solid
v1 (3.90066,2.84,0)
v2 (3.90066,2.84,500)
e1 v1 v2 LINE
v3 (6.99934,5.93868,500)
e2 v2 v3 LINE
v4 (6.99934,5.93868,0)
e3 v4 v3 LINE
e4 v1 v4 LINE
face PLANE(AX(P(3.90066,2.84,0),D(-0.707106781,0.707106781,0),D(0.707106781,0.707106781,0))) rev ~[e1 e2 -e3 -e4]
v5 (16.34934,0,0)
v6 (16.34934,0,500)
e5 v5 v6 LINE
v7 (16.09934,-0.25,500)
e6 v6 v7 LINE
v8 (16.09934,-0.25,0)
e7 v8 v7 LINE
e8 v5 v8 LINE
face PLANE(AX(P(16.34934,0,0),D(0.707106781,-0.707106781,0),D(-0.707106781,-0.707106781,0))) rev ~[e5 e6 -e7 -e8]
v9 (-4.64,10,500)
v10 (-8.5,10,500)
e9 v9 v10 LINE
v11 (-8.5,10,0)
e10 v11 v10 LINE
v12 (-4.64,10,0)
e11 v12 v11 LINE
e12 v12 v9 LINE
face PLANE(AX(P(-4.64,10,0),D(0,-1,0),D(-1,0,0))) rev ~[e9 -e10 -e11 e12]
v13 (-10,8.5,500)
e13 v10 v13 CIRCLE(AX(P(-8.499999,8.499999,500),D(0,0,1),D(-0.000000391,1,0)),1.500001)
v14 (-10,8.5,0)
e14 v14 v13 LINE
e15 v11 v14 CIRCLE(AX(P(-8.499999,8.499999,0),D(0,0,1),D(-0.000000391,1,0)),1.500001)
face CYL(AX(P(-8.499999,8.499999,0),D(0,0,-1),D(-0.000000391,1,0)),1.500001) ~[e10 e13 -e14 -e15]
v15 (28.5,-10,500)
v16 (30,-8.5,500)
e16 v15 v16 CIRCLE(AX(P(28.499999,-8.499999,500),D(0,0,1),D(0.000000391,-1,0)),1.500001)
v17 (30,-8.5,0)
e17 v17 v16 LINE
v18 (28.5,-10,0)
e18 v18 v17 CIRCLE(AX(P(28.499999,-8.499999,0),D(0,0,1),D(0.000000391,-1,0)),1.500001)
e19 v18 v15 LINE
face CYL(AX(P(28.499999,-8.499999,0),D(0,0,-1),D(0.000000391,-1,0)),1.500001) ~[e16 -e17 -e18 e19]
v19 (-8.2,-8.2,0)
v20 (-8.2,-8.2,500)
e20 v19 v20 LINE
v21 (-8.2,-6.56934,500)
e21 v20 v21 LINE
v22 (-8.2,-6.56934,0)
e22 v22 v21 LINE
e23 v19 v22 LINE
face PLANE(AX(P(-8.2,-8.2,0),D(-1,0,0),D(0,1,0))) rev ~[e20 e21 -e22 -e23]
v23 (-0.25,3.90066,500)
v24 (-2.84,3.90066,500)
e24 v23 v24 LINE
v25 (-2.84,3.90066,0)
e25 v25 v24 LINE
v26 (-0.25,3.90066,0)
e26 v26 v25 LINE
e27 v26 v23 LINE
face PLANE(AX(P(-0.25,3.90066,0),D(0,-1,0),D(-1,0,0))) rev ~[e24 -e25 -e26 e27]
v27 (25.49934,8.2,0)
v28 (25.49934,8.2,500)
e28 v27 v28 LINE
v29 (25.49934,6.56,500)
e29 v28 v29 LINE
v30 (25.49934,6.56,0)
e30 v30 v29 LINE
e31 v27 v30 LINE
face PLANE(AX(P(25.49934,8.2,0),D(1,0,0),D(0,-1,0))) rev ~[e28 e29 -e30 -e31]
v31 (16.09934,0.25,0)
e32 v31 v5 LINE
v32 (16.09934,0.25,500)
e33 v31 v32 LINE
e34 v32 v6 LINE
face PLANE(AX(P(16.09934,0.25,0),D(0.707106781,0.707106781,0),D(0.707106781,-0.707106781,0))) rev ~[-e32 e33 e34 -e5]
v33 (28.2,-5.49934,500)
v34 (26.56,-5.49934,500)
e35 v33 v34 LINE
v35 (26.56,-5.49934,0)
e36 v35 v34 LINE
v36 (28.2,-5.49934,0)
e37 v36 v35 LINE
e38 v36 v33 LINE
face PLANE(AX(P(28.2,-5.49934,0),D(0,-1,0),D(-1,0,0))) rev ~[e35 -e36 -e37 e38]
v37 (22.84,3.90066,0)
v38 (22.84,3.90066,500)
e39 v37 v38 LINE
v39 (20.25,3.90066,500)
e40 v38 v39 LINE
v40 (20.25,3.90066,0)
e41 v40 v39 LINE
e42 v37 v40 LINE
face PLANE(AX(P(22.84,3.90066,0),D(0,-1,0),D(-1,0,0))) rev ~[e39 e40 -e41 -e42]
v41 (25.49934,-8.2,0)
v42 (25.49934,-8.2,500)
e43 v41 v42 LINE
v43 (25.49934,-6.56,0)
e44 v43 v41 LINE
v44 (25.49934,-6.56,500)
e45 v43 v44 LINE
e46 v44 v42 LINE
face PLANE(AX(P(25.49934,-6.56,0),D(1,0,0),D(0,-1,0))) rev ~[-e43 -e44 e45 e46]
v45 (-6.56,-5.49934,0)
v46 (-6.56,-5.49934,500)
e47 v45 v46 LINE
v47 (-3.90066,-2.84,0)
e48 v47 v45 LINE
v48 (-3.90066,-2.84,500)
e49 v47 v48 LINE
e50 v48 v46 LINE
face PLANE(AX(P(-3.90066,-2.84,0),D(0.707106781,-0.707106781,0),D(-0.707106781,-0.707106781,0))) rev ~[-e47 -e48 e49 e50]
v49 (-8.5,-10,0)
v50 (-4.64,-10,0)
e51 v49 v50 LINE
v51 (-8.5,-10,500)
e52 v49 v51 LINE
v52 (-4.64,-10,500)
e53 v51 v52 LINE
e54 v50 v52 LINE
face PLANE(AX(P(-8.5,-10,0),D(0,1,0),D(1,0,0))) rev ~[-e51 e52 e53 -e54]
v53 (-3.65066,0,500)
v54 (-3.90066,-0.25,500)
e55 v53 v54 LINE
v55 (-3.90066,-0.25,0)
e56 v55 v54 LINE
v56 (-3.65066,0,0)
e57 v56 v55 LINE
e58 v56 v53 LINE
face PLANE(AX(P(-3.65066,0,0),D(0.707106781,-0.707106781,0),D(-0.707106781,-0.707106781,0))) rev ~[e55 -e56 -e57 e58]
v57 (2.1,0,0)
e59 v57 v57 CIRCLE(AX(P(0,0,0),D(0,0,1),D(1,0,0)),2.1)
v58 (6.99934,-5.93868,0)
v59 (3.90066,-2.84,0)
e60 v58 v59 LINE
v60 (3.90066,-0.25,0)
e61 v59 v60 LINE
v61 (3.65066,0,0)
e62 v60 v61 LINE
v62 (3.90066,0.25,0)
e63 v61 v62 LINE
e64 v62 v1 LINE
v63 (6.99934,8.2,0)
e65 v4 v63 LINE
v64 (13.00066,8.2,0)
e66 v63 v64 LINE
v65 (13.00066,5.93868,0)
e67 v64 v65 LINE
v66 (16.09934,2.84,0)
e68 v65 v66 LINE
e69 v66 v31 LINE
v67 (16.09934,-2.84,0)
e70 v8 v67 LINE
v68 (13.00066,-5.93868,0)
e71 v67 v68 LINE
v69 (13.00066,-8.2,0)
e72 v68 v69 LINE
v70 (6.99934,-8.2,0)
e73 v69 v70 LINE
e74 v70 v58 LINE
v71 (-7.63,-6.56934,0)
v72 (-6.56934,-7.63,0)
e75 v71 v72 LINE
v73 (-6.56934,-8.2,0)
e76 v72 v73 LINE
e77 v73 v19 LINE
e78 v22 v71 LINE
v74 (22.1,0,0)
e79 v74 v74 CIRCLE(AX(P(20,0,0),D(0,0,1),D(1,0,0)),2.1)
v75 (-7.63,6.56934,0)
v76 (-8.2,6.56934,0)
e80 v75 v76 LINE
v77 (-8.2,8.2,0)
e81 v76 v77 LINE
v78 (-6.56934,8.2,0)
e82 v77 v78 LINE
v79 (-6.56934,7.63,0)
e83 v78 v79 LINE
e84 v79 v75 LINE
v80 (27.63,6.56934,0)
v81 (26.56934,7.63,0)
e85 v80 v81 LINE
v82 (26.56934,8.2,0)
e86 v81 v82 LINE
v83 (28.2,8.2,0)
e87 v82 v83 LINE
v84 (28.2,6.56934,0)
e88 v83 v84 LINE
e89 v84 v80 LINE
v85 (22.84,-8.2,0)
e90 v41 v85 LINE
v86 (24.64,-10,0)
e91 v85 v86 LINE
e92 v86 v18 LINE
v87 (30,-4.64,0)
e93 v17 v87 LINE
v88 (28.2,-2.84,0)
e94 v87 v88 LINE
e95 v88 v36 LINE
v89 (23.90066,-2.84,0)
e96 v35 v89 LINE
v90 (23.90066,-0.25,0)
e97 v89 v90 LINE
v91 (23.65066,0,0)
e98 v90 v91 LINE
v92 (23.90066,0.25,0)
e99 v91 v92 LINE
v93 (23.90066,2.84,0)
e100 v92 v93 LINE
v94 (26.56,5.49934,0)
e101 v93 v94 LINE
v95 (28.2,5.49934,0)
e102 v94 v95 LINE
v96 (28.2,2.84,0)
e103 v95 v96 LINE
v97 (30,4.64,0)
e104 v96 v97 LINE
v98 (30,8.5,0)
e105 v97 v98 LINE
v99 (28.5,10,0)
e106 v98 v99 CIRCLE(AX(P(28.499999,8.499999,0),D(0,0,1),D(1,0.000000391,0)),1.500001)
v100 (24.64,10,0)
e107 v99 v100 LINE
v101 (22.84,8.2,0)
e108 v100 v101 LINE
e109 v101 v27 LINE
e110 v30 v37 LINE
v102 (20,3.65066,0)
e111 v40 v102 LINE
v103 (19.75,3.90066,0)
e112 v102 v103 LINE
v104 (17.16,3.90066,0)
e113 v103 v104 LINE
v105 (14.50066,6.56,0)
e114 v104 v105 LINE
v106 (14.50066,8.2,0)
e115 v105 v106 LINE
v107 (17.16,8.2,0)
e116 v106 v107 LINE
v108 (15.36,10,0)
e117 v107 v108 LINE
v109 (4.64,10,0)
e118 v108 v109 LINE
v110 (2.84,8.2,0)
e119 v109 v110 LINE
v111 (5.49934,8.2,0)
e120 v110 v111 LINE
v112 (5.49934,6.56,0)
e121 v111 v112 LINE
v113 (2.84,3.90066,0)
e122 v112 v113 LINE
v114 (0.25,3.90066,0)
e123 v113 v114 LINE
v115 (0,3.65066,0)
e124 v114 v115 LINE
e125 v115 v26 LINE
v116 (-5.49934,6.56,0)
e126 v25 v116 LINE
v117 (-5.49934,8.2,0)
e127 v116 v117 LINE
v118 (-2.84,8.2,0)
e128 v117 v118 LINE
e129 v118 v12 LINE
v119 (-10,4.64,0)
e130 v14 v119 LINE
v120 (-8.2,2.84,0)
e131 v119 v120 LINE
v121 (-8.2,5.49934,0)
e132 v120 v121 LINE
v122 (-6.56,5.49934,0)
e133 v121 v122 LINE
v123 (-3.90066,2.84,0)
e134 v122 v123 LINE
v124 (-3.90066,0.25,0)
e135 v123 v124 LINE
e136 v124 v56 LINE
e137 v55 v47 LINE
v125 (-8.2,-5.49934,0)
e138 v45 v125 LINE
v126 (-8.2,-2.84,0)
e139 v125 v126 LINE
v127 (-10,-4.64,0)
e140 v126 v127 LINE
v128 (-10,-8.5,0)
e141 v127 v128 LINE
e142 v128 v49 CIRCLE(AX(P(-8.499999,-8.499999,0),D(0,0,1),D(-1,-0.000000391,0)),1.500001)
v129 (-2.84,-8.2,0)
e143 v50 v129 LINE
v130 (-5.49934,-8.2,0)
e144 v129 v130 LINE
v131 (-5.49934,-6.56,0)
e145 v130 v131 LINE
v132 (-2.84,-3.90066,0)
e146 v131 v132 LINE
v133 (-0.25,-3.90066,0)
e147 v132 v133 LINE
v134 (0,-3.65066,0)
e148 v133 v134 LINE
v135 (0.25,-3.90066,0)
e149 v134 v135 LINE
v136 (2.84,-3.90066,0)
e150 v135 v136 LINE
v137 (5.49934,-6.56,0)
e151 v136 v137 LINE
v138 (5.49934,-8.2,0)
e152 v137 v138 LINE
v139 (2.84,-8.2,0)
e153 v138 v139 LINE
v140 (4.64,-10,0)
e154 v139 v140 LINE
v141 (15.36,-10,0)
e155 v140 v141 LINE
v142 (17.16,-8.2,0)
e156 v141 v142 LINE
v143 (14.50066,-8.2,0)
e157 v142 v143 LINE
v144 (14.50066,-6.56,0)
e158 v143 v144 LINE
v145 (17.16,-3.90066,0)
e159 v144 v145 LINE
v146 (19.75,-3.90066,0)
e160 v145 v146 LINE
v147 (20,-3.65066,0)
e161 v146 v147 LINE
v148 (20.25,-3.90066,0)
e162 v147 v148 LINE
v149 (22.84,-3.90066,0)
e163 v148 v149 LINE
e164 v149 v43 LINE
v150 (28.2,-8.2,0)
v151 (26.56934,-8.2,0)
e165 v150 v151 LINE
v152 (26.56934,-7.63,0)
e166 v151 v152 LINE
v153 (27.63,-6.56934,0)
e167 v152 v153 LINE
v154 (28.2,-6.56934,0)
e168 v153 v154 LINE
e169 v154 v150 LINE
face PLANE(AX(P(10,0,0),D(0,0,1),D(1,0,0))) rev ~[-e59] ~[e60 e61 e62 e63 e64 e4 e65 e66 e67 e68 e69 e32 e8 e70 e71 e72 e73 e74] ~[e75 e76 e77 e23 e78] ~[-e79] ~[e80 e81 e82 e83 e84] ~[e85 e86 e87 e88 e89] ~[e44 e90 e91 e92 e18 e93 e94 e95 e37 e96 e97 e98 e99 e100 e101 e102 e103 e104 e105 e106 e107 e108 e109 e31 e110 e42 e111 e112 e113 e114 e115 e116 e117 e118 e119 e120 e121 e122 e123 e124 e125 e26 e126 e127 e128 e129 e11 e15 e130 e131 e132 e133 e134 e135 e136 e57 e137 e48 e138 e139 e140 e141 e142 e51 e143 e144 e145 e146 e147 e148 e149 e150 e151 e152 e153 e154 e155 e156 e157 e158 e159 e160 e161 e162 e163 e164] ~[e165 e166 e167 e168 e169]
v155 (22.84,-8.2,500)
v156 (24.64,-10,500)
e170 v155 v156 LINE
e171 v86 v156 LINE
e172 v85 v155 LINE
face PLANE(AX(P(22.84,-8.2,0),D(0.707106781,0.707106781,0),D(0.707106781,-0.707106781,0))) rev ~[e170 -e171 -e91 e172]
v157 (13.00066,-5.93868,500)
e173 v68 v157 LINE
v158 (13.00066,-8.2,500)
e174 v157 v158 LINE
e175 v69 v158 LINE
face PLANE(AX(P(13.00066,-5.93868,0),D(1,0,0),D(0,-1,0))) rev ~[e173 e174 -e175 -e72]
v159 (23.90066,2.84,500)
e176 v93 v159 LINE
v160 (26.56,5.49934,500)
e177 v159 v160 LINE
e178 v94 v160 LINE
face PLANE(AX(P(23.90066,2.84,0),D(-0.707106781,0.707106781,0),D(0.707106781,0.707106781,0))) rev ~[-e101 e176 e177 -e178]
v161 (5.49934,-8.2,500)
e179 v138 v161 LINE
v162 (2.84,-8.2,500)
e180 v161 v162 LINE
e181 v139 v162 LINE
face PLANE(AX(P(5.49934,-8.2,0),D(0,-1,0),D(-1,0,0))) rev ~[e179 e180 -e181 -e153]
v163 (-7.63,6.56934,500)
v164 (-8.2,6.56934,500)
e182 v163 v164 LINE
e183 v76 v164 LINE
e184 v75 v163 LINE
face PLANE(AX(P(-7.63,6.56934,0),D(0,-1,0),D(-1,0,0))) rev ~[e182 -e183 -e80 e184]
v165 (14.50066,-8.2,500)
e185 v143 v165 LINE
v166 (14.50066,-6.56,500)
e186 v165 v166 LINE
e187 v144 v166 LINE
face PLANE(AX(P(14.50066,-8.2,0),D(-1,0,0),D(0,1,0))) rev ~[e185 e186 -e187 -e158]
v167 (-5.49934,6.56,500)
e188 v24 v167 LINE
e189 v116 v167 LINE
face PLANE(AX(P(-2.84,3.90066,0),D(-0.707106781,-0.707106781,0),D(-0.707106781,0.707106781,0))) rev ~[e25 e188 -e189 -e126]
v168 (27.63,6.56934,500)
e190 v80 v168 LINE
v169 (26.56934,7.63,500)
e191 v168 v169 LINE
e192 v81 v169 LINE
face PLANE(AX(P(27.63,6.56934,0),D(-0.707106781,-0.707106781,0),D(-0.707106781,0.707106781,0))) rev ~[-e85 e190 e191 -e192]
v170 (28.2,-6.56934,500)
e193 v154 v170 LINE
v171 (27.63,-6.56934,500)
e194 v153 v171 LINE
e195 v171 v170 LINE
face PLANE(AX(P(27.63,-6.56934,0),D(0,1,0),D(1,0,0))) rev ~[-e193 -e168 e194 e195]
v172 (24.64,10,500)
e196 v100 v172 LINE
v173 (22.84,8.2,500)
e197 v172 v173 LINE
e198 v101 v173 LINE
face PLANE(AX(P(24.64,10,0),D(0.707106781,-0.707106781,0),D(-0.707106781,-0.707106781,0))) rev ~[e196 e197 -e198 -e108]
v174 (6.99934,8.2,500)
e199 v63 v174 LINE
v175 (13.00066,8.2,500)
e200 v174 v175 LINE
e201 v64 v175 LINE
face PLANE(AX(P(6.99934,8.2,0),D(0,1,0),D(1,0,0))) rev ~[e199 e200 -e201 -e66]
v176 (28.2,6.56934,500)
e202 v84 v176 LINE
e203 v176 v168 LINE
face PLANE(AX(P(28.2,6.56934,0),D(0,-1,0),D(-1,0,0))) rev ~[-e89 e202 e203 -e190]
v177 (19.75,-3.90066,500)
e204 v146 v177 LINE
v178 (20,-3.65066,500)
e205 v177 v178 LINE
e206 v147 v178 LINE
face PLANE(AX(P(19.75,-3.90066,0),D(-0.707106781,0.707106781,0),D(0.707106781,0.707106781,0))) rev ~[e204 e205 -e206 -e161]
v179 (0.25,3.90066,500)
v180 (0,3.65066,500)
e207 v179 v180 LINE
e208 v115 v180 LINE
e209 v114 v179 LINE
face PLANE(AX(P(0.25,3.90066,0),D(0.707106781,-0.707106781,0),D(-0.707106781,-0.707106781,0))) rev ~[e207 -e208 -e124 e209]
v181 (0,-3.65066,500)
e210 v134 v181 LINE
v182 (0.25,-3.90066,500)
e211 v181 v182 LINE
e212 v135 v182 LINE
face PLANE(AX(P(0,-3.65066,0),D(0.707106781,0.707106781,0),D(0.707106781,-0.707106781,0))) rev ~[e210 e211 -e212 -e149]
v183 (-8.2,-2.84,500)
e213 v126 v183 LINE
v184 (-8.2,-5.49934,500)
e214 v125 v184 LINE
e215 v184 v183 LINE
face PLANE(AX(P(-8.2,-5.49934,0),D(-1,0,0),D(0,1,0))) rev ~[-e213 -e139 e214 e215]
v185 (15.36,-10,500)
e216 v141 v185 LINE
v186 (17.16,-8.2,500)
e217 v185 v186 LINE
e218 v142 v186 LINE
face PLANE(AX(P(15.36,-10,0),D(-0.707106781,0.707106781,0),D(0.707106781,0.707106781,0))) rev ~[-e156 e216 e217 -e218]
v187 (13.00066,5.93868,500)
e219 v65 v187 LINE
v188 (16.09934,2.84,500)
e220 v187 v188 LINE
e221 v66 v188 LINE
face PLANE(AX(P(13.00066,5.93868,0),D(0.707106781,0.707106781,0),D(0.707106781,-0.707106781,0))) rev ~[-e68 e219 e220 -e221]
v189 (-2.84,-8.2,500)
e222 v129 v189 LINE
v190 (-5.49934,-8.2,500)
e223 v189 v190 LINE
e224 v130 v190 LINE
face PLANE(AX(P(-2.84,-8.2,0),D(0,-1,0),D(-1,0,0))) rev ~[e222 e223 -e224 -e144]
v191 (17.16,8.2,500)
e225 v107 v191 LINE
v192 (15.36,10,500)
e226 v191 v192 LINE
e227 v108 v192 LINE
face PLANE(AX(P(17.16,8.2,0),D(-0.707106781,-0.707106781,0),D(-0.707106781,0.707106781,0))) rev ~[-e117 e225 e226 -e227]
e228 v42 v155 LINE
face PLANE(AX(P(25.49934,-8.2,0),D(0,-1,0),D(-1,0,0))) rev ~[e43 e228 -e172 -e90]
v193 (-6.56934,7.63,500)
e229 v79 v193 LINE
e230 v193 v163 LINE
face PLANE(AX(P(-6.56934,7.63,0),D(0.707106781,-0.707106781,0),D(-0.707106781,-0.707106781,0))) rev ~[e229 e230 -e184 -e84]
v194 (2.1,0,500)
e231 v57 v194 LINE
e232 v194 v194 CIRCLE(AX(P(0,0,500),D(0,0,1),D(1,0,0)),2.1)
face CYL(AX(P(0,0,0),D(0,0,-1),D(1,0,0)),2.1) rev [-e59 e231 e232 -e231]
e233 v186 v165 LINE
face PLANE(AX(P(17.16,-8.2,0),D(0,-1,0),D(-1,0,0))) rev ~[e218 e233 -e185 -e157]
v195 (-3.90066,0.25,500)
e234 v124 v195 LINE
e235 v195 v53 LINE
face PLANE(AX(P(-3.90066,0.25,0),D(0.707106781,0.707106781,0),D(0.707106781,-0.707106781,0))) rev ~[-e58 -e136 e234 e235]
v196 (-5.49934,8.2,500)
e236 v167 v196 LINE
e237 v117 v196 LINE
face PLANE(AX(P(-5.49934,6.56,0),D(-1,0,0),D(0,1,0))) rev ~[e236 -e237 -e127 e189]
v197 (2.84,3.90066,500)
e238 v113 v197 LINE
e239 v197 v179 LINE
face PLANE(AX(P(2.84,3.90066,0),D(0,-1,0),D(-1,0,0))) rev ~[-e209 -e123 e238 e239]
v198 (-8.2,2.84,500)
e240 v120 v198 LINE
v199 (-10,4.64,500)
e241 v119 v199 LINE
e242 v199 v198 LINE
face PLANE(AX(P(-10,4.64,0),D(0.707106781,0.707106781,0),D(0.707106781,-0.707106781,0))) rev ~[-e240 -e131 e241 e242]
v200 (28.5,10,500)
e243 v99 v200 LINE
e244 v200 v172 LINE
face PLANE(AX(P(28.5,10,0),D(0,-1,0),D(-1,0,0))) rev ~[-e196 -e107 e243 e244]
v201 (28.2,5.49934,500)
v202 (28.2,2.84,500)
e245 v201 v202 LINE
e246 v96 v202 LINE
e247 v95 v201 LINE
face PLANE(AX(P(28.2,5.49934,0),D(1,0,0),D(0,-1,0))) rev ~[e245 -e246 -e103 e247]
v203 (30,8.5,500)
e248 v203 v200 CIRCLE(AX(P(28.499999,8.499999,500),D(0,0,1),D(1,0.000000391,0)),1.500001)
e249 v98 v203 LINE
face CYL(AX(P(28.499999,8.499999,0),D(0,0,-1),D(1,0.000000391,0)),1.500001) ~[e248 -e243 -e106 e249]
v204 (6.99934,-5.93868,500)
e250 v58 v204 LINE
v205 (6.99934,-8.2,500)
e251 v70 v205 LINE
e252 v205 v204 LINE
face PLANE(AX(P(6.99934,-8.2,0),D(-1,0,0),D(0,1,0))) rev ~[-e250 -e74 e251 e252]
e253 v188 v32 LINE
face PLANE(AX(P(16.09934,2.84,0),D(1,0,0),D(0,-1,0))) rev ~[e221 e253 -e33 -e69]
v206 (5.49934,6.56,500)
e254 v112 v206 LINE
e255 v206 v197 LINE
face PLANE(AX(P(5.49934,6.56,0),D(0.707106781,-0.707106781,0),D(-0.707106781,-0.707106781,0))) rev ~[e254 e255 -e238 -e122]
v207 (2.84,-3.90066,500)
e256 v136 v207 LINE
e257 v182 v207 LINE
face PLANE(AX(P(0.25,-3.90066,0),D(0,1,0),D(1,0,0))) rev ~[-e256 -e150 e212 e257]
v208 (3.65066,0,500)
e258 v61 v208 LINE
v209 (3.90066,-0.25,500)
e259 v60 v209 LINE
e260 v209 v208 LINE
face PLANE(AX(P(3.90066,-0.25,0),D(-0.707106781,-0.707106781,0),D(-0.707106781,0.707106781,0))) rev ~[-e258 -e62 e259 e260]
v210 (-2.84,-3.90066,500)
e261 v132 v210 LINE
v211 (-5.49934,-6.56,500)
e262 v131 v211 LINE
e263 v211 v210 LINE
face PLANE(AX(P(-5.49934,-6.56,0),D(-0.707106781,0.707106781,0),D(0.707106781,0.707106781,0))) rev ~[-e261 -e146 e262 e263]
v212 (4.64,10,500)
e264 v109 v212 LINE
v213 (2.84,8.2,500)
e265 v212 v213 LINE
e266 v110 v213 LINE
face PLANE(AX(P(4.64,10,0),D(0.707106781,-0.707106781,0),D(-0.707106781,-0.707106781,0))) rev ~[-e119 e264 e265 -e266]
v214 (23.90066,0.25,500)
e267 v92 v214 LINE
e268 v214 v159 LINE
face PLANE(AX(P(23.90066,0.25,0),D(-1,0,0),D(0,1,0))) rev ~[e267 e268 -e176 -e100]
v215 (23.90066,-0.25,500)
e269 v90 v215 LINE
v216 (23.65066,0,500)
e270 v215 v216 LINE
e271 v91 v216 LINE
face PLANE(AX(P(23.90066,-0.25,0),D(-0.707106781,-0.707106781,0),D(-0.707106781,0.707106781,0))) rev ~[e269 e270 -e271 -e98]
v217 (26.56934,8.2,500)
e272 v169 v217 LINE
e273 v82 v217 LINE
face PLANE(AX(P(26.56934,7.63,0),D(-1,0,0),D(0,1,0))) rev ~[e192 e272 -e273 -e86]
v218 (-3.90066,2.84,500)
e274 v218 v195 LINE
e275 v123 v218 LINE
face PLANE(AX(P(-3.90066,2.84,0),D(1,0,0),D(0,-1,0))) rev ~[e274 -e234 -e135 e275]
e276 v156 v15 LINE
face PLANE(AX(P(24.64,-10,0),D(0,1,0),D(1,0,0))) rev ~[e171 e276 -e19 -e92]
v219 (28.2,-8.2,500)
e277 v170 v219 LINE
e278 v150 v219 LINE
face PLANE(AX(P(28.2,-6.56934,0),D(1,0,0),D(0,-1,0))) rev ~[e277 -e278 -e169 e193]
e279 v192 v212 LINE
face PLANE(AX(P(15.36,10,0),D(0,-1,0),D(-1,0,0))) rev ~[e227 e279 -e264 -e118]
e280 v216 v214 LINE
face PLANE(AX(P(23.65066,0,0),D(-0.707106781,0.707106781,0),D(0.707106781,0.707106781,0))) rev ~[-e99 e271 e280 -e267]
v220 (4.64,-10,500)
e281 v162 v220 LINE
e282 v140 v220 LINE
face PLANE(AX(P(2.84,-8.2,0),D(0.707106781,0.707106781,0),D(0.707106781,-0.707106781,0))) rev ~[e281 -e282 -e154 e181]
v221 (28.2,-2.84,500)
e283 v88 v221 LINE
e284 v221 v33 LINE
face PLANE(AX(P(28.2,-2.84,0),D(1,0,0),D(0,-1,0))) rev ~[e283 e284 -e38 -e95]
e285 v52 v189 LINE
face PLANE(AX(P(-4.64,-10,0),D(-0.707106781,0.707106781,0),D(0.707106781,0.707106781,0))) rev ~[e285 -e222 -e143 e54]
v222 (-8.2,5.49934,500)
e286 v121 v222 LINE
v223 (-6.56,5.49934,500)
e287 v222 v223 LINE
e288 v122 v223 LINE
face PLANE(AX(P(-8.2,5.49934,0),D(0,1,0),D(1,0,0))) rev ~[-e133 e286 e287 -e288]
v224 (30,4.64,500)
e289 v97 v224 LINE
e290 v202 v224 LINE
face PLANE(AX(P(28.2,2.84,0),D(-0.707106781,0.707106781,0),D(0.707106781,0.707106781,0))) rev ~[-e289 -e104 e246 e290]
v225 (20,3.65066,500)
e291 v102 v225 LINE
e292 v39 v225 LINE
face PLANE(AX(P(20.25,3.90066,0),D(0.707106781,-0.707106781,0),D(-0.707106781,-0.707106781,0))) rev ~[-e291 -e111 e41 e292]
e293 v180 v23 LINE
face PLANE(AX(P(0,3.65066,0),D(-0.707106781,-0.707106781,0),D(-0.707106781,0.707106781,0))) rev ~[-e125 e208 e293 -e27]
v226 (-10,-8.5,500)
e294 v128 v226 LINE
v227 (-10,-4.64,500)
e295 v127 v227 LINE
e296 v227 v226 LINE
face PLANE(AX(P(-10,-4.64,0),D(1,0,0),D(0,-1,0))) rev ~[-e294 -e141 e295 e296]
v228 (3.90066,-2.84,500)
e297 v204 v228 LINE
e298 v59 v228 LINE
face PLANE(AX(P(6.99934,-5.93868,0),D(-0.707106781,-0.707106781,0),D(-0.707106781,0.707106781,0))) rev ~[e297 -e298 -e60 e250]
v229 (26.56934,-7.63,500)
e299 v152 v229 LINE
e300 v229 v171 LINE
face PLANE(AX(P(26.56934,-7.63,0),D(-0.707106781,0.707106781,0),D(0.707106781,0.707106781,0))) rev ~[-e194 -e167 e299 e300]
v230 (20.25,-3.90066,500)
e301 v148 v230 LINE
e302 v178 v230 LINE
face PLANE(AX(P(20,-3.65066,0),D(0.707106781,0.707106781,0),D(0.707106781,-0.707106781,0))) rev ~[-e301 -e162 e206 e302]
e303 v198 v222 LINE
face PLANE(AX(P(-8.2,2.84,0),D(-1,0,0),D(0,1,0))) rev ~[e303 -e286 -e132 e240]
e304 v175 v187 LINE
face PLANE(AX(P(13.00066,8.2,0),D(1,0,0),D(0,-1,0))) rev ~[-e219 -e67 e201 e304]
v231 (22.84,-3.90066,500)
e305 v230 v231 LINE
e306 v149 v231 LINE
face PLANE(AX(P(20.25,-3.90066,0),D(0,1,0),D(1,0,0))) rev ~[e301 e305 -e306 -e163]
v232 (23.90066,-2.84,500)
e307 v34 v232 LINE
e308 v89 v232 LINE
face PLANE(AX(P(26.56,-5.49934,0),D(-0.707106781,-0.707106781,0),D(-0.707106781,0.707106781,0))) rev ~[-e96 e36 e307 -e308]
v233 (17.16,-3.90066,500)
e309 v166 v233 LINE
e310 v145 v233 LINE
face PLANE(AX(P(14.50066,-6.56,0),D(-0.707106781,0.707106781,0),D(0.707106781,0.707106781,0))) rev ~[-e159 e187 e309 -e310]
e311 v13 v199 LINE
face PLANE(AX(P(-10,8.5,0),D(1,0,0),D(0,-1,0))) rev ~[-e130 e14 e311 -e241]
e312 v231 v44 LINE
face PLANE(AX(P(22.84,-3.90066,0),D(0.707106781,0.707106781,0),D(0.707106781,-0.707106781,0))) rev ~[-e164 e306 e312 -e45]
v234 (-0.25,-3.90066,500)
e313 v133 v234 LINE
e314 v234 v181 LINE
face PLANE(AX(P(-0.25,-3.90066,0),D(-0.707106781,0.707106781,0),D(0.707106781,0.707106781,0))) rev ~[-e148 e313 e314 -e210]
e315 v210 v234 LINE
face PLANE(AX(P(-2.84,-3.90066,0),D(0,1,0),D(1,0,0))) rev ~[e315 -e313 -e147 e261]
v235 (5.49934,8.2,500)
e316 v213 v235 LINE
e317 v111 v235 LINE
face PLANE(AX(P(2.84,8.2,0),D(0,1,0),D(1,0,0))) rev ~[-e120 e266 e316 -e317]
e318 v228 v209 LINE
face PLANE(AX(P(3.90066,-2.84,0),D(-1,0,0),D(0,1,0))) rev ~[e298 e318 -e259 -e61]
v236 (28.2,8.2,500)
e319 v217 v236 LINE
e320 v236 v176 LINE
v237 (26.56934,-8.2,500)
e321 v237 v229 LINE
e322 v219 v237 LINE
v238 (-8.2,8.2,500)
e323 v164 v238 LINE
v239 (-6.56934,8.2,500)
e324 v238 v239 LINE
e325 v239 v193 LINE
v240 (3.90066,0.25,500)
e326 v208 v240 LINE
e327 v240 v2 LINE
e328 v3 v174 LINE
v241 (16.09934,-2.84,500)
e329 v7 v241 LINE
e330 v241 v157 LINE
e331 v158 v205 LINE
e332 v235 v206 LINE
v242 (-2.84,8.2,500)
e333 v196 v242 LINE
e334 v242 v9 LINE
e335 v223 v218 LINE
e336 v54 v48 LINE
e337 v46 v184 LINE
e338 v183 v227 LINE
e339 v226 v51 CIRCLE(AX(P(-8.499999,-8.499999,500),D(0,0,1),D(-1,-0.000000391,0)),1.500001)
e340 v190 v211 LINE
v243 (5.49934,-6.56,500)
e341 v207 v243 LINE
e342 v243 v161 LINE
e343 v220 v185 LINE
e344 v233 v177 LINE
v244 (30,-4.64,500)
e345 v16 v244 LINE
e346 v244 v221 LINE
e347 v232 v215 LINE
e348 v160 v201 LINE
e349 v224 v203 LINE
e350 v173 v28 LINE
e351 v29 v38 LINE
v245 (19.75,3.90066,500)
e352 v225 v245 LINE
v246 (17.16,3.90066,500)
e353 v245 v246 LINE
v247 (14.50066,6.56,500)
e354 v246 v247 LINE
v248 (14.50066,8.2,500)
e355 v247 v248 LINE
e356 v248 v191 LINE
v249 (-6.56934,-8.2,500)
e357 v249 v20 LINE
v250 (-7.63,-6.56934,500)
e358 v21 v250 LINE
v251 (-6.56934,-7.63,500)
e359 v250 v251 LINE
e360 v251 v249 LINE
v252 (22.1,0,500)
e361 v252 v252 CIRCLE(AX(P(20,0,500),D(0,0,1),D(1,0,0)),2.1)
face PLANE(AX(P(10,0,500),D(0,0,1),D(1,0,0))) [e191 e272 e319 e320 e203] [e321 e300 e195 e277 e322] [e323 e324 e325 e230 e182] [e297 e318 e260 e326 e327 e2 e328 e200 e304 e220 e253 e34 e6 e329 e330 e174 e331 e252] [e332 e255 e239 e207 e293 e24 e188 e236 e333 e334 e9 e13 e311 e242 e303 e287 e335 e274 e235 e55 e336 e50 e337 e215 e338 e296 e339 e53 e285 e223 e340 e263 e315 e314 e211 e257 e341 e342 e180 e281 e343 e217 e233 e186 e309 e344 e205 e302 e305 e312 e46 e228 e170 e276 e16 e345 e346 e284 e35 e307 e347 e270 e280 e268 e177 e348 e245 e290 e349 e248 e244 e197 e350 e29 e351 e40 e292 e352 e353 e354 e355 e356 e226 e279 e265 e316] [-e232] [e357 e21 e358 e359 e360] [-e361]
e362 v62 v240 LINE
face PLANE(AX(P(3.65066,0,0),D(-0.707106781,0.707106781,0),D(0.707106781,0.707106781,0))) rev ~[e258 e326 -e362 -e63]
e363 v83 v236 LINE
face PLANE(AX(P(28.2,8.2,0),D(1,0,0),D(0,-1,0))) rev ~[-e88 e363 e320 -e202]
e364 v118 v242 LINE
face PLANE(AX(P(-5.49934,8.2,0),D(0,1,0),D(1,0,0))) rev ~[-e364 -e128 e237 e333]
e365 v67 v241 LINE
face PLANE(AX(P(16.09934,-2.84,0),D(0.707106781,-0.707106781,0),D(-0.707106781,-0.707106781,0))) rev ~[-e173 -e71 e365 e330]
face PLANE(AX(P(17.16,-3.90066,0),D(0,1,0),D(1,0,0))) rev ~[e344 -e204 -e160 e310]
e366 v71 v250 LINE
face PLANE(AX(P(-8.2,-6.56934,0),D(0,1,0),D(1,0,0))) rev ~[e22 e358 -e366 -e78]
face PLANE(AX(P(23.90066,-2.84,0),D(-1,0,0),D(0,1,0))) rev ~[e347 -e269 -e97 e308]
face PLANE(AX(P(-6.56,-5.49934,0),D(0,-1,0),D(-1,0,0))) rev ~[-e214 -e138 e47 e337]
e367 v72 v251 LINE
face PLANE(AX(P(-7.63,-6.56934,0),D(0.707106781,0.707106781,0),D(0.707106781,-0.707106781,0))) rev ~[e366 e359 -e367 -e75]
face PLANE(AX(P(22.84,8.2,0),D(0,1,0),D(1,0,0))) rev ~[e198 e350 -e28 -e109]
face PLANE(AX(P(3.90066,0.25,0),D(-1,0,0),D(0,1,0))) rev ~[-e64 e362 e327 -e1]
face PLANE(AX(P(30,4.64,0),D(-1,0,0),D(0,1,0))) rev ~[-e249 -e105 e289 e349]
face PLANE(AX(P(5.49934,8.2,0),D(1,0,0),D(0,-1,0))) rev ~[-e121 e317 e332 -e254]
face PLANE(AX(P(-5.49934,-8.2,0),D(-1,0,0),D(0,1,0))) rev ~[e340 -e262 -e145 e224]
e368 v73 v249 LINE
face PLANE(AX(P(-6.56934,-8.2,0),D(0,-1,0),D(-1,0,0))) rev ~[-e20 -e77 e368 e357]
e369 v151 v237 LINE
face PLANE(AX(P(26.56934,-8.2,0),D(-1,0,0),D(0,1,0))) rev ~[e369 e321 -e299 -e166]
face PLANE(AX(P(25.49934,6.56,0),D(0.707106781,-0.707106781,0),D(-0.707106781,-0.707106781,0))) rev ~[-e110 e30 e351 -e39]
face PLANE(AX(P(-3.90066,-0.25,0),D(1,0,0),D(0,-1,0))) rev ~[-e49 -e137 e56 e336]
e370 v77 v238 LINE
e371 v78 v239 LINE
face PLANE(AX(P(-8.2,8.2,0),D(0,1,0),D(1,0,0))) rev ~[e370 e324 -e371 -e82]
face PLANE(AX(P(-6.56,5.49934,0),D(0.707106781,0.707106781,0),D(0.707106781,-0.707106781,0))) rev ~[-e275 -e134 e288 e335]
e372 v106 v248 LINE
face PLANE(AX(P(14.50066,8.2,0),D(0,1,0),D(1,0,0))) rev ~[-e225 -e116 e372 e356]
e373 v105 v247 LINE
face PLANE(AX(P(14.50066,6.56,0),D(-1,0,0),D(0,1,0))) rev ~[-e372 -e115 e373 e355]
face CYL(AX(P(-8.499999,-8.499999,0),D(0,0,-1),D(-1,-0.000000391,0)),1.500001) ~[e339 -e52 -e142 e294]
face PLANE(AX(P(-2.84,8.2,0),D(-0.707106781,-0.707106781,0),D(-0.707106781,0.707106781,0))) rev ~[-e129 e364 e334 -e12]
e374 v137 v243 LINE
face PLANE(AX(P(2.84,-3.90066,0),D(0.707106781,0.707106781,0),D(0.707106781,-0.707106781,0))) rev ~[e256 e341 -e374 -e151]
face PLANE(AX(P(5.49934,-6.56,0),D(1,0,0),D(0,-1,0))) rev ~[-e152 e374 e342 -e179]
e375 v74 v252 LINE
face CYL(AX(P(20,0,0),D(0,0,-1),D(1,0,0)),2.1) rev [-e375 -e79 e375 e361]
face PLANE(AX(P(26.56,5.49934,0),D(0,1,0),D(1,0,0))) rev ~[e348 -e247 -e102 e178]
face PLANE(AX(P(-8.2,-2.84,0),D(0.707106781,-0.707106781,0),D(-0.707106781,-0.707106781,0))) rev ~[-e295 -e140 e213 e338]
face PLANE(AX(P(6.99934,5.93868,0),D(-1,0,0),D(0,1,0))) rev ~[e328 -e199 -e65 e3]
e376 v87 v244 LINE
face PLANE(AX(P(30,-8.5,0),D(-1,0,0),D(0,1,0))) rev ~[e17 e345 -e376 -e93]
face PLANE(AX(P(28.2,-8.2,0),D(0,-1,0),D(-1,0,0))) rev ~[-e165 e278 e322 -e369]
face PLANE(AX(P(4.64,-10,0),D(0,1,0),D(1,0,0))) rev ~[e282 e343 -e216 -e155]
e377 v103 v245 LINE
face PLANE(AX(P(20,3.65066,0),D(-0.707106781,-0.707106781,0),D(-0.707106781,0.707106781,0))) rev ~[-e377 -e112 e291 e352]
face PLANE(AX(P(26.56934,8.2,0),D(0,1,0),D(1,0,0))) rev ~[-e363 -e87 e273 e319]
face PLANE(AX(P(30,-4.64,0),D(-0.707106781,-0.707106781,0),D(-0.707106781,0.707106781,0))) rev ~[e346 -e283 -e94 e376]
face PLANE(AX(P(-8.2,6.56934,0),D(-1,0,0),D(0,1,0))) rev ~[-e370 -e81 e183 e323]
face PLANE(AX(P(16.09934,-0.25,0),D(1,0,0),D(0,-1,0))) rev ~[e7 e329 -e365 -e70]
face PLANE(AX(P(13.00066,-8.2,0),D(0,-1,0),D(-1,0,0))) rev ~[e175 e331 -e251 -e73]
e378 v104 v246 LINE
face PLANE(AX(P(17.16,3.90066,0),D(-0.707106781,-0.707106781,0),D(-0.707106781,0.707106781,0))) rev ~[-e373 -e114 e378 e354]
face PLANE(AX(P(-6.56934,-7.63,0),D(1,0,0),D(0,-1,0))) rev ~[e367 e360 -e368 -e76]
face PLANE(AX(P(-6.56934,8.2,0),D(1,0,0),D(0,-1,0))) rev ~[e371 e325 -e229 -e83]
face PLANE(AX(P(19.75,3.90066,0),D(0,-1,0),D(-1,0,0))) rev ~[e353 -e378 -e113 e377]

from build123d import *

# Parameters (mm, degrees)
F0_R     = 2.1
F1_DEPTH = 500


with BuildPart() as f1:
    # F0 (on Top) → F1 (new body)
    with BuildSketch(Plane.XY):
        with BuildLine():
            Line((4.64, -10), (8.5, -10))
            Line((8.5, -10), (11.5, -10))
            Line((11.5, -10), (15.36, -10))
            Line((15.36, -10), (17.16, -8.2))
            Line((17.16, -8.2), (14.50066, -8.2))
            Line((14.50066, -8.2), (14.50066, -6.56))
            Line((14.50066, -6.56), (17.16, -3.90066))
            Line((17.16, -3.90066), (19.75, -3.90066))
            Line((19.75, -3.90066), (20, -3.65066))
            Line((20, -3.65066), (20.25, -3.90066))
            Line((20.25, -3.90066), (22.84, -3.90066))
            Line((22.84, -3.90066), (25.49934, -6.56))
            Line((25.49934, -6.56), (25.49934, -8.2))
            Line((25.49934, -8.2), (22.84, -8.2))
            Line((22.84, -8.2), (24.64, -10))
            Line((24.64, -10), (28.5, -10))
            ThreePointArc((28.5, -10), (29.56066, -9.56066), (30, -8.5))
            Line((30, -8.5), (30, -4.64))
            Line((30, -4.64), (28.2, -2.84))
            Line((28.2, -2.84), (28.2, -5.49934))
            Line((28.2, -5.49934), (26.56, -5.49934))
            Line((26.56, -5.49934), (23.90066, -2.84))
            Line((23.90066, -2.84), (23.90066, -0.25))
            Line((23.90066, -0.25), (23.65066, 0))
            Line((23.65066, 0), (23.90066, 0.25))
            Line((23.90066, 0.25), (23.90066, 2.84))
            Line((23.90066, 2.84), (26.56, 5.49934))
            Line((26.56, 5.49934), (28.2, 5.49934))
            Line((28.2, 5.49934), (28.2, 2.84))
            Line((28.2, 2.84), (30, 4.64))
            Line((30, 4.64), (30, 8.5))
            ThreePointArc((30, 8.5), (29.56066, 9.56066), (28.5, 10))
            Line((28.5, 10), (24.64, 10))
            Line((24.64, 10), (22.84, 8.2))
            Line((22.84, 8.2), (25.49934, 8.2))
            Line((25.49934, 8.2), (25.49934, 6.56))
            Line((25.49934, 6.56), (22.84, 3.90066))
            Line((22.84, 3.90066), (20.25, 3.90066))
            Line((20.25, 3.90066), (20, 3.65066))
            Line((20, 3.65066), (19.75, 3.90066))
            Line((19.75, 3.90066), (17.16, 3.90066))
            Line((17.16, 3.90066), (14.50066, 6.56))
            Line((14.50066, 6.56), (14.50066, 8.2))
            Line((14.50066, 8.2), (17.16, 8.2))
            Line((17.16, 8.2), (15.36, 10))
            Line((15.36, 10), (11.5, 10))
            Line((11.5, 10), (8.5, 10))
            Line((8.5, 10), (4.64, 10))
            Line((4.64, 10), (2.84, 8.2))
            Line((2.84, 8.2), (5.49934, 8.2))
            Line((5.49934, 8.2), (5.49934, 6.56))
            Line((5.49934, 6.56), (2.84, 3.90066))
            Line((2.84, 3.90066), (0.25, 3.90066))
            Line((0.25, 3.90066), (0, 3.65066))
            Line((0, 3.65066), (-0.25, 3.90066))
            Line((-0.25, 3.90066), (-2.84, 3.90066))
            Line((-2.84, 3.90066), (-5.49934, 6.56))
            Line((-5.49934, 6.56), (-5.49934, 8.2))
            Line((-5.49934, 8.2), (-2.84, 8.2))
            Line((-2.84, 8.2), (-4.64, 10))
            Line((-4.64, 10), (-8.5, 10))
            ThreePointArc((-8.5, 10), (-9.56066, 9.56066), (-10, 8.5))
            Line((-10, 8.5), (-10, 4.64))
            Line((-10, 4.64), (-8.2, 2.84))
            Line((-8.2, 2.84), (-8.2, 5.49934))
            Line((-8.2, 5.49934), (-6.56, 5.49934))
            Line((-6.56, 5.49934), (-3.90066, 2.84))
            Line((-3.90066, 2.84), (-3.90066, 0.25))
            Line((-3.90066, 0.25), (-3.65066, 0))
            Line((-3.65066, 0), (-3.90066, -0.25))
            Line((-3.90066, -0.25), (-3.90066, -2.84))
            Line((-3.90066, -2.84), (-6.56, -5.49934))
            Line((-6.56, -5.49934), (-8.2, -5.49934))
            Line((-8.2, -5.49934), (-8.2, -2.84))
            Line((-8.2, -2.84), (-10, -4.64))
            Line((-10, -4.64), (-10, -8.5))
            ThreePointArc((-10, -8.5), (-9.56066, -9.56066), (-8.5, -10))
            Line((-8.5, -10), (-4.64, -10))
            Line((-4.64, -10), (-2.84, -8.2))
            Line((-2.84, -8.2), (-5.49934, -8.2))
            Line((-5.49934, -8.2), (-5.49934, -6.56))
            Line((-5.49934, -6.56), (-2.84, -3.90066))
            Line((-2.84, -3.90066), (-0.25, -3.90066))
            Line((-0.25, -3.90066), (0, -3.65066))
            Line((0, -3.65066), (0.25, -3.90066))
            Line((0.25, -3.90066), (2.84, -3.90066))
            Line((2.84, -3.90066), (5.49934, -6.56))
            Line((5.49934, -6.56), (5.49934, -8.2))
            Line((5.49934, -8.2), (2.84, -8.2))
            Line((2.84, -8.2), (4.64, -10))
        make_face()
        Polygon((-6.56934, -7.63), (-6.56934, -8.2), (-8.2, -8.2), (-8.2, -6.56934), (-7.63, -6.56934), align=None, mode=Mode.SUBTRACT)
        Polygon((27.63, -6.56934), (28.2, -6.56934), (28.2, -8.2), (26.56934, -8.2), (26.56934, -7.63), align=None, mode=Mode.SUBTRACT)
        Circle(F0_R, mode=Mode.SUBTRACT)
        Polygon((-7.63, 6.56934), (-8.2, 6.56934), (-8.2, 8.2), (-6.56934, 8.2), (-6.56934, 7.63), align=None, mode=Mode.SUBTRACT)
        Polygon((3.90066, 2.84), (6.56, 5.49934), (6.99934, 5.93868), (6.99934, 8.2), (13.00066, 8.2), (13.00066, 5.93868), (13.44, 5.49934), (16.09934, 2.84), (16.09934, 0.25), (16.34934, 0), (16.09934, -0.25), (16.09934, -2.84), (13.44, -5.49934), (13.00066, -5.93868), (13.00066, -8.2), (6.99934, -8.2), (6.99934, -5.93868), (6.56, -5.49934), (3.90066, -2.84), (3.90066, -0.25), (3.65066, 0), (3.90066, 0.25), align=None, mode=Mode.SUBTRACT)
        with Locations((20, 0)):
            Circle(F0_R, mode=Mode.SUBTRACT)
        Polygon((28.2, 8.2), (28.2, 6.56934), (27.63, 6.56934), (26.56934, 7.63), (26.56934, 8.2), align=None, mode=Mode.SUBTRACT)
    extrude(amount=F1_DEPTH)


solid = f1.part
